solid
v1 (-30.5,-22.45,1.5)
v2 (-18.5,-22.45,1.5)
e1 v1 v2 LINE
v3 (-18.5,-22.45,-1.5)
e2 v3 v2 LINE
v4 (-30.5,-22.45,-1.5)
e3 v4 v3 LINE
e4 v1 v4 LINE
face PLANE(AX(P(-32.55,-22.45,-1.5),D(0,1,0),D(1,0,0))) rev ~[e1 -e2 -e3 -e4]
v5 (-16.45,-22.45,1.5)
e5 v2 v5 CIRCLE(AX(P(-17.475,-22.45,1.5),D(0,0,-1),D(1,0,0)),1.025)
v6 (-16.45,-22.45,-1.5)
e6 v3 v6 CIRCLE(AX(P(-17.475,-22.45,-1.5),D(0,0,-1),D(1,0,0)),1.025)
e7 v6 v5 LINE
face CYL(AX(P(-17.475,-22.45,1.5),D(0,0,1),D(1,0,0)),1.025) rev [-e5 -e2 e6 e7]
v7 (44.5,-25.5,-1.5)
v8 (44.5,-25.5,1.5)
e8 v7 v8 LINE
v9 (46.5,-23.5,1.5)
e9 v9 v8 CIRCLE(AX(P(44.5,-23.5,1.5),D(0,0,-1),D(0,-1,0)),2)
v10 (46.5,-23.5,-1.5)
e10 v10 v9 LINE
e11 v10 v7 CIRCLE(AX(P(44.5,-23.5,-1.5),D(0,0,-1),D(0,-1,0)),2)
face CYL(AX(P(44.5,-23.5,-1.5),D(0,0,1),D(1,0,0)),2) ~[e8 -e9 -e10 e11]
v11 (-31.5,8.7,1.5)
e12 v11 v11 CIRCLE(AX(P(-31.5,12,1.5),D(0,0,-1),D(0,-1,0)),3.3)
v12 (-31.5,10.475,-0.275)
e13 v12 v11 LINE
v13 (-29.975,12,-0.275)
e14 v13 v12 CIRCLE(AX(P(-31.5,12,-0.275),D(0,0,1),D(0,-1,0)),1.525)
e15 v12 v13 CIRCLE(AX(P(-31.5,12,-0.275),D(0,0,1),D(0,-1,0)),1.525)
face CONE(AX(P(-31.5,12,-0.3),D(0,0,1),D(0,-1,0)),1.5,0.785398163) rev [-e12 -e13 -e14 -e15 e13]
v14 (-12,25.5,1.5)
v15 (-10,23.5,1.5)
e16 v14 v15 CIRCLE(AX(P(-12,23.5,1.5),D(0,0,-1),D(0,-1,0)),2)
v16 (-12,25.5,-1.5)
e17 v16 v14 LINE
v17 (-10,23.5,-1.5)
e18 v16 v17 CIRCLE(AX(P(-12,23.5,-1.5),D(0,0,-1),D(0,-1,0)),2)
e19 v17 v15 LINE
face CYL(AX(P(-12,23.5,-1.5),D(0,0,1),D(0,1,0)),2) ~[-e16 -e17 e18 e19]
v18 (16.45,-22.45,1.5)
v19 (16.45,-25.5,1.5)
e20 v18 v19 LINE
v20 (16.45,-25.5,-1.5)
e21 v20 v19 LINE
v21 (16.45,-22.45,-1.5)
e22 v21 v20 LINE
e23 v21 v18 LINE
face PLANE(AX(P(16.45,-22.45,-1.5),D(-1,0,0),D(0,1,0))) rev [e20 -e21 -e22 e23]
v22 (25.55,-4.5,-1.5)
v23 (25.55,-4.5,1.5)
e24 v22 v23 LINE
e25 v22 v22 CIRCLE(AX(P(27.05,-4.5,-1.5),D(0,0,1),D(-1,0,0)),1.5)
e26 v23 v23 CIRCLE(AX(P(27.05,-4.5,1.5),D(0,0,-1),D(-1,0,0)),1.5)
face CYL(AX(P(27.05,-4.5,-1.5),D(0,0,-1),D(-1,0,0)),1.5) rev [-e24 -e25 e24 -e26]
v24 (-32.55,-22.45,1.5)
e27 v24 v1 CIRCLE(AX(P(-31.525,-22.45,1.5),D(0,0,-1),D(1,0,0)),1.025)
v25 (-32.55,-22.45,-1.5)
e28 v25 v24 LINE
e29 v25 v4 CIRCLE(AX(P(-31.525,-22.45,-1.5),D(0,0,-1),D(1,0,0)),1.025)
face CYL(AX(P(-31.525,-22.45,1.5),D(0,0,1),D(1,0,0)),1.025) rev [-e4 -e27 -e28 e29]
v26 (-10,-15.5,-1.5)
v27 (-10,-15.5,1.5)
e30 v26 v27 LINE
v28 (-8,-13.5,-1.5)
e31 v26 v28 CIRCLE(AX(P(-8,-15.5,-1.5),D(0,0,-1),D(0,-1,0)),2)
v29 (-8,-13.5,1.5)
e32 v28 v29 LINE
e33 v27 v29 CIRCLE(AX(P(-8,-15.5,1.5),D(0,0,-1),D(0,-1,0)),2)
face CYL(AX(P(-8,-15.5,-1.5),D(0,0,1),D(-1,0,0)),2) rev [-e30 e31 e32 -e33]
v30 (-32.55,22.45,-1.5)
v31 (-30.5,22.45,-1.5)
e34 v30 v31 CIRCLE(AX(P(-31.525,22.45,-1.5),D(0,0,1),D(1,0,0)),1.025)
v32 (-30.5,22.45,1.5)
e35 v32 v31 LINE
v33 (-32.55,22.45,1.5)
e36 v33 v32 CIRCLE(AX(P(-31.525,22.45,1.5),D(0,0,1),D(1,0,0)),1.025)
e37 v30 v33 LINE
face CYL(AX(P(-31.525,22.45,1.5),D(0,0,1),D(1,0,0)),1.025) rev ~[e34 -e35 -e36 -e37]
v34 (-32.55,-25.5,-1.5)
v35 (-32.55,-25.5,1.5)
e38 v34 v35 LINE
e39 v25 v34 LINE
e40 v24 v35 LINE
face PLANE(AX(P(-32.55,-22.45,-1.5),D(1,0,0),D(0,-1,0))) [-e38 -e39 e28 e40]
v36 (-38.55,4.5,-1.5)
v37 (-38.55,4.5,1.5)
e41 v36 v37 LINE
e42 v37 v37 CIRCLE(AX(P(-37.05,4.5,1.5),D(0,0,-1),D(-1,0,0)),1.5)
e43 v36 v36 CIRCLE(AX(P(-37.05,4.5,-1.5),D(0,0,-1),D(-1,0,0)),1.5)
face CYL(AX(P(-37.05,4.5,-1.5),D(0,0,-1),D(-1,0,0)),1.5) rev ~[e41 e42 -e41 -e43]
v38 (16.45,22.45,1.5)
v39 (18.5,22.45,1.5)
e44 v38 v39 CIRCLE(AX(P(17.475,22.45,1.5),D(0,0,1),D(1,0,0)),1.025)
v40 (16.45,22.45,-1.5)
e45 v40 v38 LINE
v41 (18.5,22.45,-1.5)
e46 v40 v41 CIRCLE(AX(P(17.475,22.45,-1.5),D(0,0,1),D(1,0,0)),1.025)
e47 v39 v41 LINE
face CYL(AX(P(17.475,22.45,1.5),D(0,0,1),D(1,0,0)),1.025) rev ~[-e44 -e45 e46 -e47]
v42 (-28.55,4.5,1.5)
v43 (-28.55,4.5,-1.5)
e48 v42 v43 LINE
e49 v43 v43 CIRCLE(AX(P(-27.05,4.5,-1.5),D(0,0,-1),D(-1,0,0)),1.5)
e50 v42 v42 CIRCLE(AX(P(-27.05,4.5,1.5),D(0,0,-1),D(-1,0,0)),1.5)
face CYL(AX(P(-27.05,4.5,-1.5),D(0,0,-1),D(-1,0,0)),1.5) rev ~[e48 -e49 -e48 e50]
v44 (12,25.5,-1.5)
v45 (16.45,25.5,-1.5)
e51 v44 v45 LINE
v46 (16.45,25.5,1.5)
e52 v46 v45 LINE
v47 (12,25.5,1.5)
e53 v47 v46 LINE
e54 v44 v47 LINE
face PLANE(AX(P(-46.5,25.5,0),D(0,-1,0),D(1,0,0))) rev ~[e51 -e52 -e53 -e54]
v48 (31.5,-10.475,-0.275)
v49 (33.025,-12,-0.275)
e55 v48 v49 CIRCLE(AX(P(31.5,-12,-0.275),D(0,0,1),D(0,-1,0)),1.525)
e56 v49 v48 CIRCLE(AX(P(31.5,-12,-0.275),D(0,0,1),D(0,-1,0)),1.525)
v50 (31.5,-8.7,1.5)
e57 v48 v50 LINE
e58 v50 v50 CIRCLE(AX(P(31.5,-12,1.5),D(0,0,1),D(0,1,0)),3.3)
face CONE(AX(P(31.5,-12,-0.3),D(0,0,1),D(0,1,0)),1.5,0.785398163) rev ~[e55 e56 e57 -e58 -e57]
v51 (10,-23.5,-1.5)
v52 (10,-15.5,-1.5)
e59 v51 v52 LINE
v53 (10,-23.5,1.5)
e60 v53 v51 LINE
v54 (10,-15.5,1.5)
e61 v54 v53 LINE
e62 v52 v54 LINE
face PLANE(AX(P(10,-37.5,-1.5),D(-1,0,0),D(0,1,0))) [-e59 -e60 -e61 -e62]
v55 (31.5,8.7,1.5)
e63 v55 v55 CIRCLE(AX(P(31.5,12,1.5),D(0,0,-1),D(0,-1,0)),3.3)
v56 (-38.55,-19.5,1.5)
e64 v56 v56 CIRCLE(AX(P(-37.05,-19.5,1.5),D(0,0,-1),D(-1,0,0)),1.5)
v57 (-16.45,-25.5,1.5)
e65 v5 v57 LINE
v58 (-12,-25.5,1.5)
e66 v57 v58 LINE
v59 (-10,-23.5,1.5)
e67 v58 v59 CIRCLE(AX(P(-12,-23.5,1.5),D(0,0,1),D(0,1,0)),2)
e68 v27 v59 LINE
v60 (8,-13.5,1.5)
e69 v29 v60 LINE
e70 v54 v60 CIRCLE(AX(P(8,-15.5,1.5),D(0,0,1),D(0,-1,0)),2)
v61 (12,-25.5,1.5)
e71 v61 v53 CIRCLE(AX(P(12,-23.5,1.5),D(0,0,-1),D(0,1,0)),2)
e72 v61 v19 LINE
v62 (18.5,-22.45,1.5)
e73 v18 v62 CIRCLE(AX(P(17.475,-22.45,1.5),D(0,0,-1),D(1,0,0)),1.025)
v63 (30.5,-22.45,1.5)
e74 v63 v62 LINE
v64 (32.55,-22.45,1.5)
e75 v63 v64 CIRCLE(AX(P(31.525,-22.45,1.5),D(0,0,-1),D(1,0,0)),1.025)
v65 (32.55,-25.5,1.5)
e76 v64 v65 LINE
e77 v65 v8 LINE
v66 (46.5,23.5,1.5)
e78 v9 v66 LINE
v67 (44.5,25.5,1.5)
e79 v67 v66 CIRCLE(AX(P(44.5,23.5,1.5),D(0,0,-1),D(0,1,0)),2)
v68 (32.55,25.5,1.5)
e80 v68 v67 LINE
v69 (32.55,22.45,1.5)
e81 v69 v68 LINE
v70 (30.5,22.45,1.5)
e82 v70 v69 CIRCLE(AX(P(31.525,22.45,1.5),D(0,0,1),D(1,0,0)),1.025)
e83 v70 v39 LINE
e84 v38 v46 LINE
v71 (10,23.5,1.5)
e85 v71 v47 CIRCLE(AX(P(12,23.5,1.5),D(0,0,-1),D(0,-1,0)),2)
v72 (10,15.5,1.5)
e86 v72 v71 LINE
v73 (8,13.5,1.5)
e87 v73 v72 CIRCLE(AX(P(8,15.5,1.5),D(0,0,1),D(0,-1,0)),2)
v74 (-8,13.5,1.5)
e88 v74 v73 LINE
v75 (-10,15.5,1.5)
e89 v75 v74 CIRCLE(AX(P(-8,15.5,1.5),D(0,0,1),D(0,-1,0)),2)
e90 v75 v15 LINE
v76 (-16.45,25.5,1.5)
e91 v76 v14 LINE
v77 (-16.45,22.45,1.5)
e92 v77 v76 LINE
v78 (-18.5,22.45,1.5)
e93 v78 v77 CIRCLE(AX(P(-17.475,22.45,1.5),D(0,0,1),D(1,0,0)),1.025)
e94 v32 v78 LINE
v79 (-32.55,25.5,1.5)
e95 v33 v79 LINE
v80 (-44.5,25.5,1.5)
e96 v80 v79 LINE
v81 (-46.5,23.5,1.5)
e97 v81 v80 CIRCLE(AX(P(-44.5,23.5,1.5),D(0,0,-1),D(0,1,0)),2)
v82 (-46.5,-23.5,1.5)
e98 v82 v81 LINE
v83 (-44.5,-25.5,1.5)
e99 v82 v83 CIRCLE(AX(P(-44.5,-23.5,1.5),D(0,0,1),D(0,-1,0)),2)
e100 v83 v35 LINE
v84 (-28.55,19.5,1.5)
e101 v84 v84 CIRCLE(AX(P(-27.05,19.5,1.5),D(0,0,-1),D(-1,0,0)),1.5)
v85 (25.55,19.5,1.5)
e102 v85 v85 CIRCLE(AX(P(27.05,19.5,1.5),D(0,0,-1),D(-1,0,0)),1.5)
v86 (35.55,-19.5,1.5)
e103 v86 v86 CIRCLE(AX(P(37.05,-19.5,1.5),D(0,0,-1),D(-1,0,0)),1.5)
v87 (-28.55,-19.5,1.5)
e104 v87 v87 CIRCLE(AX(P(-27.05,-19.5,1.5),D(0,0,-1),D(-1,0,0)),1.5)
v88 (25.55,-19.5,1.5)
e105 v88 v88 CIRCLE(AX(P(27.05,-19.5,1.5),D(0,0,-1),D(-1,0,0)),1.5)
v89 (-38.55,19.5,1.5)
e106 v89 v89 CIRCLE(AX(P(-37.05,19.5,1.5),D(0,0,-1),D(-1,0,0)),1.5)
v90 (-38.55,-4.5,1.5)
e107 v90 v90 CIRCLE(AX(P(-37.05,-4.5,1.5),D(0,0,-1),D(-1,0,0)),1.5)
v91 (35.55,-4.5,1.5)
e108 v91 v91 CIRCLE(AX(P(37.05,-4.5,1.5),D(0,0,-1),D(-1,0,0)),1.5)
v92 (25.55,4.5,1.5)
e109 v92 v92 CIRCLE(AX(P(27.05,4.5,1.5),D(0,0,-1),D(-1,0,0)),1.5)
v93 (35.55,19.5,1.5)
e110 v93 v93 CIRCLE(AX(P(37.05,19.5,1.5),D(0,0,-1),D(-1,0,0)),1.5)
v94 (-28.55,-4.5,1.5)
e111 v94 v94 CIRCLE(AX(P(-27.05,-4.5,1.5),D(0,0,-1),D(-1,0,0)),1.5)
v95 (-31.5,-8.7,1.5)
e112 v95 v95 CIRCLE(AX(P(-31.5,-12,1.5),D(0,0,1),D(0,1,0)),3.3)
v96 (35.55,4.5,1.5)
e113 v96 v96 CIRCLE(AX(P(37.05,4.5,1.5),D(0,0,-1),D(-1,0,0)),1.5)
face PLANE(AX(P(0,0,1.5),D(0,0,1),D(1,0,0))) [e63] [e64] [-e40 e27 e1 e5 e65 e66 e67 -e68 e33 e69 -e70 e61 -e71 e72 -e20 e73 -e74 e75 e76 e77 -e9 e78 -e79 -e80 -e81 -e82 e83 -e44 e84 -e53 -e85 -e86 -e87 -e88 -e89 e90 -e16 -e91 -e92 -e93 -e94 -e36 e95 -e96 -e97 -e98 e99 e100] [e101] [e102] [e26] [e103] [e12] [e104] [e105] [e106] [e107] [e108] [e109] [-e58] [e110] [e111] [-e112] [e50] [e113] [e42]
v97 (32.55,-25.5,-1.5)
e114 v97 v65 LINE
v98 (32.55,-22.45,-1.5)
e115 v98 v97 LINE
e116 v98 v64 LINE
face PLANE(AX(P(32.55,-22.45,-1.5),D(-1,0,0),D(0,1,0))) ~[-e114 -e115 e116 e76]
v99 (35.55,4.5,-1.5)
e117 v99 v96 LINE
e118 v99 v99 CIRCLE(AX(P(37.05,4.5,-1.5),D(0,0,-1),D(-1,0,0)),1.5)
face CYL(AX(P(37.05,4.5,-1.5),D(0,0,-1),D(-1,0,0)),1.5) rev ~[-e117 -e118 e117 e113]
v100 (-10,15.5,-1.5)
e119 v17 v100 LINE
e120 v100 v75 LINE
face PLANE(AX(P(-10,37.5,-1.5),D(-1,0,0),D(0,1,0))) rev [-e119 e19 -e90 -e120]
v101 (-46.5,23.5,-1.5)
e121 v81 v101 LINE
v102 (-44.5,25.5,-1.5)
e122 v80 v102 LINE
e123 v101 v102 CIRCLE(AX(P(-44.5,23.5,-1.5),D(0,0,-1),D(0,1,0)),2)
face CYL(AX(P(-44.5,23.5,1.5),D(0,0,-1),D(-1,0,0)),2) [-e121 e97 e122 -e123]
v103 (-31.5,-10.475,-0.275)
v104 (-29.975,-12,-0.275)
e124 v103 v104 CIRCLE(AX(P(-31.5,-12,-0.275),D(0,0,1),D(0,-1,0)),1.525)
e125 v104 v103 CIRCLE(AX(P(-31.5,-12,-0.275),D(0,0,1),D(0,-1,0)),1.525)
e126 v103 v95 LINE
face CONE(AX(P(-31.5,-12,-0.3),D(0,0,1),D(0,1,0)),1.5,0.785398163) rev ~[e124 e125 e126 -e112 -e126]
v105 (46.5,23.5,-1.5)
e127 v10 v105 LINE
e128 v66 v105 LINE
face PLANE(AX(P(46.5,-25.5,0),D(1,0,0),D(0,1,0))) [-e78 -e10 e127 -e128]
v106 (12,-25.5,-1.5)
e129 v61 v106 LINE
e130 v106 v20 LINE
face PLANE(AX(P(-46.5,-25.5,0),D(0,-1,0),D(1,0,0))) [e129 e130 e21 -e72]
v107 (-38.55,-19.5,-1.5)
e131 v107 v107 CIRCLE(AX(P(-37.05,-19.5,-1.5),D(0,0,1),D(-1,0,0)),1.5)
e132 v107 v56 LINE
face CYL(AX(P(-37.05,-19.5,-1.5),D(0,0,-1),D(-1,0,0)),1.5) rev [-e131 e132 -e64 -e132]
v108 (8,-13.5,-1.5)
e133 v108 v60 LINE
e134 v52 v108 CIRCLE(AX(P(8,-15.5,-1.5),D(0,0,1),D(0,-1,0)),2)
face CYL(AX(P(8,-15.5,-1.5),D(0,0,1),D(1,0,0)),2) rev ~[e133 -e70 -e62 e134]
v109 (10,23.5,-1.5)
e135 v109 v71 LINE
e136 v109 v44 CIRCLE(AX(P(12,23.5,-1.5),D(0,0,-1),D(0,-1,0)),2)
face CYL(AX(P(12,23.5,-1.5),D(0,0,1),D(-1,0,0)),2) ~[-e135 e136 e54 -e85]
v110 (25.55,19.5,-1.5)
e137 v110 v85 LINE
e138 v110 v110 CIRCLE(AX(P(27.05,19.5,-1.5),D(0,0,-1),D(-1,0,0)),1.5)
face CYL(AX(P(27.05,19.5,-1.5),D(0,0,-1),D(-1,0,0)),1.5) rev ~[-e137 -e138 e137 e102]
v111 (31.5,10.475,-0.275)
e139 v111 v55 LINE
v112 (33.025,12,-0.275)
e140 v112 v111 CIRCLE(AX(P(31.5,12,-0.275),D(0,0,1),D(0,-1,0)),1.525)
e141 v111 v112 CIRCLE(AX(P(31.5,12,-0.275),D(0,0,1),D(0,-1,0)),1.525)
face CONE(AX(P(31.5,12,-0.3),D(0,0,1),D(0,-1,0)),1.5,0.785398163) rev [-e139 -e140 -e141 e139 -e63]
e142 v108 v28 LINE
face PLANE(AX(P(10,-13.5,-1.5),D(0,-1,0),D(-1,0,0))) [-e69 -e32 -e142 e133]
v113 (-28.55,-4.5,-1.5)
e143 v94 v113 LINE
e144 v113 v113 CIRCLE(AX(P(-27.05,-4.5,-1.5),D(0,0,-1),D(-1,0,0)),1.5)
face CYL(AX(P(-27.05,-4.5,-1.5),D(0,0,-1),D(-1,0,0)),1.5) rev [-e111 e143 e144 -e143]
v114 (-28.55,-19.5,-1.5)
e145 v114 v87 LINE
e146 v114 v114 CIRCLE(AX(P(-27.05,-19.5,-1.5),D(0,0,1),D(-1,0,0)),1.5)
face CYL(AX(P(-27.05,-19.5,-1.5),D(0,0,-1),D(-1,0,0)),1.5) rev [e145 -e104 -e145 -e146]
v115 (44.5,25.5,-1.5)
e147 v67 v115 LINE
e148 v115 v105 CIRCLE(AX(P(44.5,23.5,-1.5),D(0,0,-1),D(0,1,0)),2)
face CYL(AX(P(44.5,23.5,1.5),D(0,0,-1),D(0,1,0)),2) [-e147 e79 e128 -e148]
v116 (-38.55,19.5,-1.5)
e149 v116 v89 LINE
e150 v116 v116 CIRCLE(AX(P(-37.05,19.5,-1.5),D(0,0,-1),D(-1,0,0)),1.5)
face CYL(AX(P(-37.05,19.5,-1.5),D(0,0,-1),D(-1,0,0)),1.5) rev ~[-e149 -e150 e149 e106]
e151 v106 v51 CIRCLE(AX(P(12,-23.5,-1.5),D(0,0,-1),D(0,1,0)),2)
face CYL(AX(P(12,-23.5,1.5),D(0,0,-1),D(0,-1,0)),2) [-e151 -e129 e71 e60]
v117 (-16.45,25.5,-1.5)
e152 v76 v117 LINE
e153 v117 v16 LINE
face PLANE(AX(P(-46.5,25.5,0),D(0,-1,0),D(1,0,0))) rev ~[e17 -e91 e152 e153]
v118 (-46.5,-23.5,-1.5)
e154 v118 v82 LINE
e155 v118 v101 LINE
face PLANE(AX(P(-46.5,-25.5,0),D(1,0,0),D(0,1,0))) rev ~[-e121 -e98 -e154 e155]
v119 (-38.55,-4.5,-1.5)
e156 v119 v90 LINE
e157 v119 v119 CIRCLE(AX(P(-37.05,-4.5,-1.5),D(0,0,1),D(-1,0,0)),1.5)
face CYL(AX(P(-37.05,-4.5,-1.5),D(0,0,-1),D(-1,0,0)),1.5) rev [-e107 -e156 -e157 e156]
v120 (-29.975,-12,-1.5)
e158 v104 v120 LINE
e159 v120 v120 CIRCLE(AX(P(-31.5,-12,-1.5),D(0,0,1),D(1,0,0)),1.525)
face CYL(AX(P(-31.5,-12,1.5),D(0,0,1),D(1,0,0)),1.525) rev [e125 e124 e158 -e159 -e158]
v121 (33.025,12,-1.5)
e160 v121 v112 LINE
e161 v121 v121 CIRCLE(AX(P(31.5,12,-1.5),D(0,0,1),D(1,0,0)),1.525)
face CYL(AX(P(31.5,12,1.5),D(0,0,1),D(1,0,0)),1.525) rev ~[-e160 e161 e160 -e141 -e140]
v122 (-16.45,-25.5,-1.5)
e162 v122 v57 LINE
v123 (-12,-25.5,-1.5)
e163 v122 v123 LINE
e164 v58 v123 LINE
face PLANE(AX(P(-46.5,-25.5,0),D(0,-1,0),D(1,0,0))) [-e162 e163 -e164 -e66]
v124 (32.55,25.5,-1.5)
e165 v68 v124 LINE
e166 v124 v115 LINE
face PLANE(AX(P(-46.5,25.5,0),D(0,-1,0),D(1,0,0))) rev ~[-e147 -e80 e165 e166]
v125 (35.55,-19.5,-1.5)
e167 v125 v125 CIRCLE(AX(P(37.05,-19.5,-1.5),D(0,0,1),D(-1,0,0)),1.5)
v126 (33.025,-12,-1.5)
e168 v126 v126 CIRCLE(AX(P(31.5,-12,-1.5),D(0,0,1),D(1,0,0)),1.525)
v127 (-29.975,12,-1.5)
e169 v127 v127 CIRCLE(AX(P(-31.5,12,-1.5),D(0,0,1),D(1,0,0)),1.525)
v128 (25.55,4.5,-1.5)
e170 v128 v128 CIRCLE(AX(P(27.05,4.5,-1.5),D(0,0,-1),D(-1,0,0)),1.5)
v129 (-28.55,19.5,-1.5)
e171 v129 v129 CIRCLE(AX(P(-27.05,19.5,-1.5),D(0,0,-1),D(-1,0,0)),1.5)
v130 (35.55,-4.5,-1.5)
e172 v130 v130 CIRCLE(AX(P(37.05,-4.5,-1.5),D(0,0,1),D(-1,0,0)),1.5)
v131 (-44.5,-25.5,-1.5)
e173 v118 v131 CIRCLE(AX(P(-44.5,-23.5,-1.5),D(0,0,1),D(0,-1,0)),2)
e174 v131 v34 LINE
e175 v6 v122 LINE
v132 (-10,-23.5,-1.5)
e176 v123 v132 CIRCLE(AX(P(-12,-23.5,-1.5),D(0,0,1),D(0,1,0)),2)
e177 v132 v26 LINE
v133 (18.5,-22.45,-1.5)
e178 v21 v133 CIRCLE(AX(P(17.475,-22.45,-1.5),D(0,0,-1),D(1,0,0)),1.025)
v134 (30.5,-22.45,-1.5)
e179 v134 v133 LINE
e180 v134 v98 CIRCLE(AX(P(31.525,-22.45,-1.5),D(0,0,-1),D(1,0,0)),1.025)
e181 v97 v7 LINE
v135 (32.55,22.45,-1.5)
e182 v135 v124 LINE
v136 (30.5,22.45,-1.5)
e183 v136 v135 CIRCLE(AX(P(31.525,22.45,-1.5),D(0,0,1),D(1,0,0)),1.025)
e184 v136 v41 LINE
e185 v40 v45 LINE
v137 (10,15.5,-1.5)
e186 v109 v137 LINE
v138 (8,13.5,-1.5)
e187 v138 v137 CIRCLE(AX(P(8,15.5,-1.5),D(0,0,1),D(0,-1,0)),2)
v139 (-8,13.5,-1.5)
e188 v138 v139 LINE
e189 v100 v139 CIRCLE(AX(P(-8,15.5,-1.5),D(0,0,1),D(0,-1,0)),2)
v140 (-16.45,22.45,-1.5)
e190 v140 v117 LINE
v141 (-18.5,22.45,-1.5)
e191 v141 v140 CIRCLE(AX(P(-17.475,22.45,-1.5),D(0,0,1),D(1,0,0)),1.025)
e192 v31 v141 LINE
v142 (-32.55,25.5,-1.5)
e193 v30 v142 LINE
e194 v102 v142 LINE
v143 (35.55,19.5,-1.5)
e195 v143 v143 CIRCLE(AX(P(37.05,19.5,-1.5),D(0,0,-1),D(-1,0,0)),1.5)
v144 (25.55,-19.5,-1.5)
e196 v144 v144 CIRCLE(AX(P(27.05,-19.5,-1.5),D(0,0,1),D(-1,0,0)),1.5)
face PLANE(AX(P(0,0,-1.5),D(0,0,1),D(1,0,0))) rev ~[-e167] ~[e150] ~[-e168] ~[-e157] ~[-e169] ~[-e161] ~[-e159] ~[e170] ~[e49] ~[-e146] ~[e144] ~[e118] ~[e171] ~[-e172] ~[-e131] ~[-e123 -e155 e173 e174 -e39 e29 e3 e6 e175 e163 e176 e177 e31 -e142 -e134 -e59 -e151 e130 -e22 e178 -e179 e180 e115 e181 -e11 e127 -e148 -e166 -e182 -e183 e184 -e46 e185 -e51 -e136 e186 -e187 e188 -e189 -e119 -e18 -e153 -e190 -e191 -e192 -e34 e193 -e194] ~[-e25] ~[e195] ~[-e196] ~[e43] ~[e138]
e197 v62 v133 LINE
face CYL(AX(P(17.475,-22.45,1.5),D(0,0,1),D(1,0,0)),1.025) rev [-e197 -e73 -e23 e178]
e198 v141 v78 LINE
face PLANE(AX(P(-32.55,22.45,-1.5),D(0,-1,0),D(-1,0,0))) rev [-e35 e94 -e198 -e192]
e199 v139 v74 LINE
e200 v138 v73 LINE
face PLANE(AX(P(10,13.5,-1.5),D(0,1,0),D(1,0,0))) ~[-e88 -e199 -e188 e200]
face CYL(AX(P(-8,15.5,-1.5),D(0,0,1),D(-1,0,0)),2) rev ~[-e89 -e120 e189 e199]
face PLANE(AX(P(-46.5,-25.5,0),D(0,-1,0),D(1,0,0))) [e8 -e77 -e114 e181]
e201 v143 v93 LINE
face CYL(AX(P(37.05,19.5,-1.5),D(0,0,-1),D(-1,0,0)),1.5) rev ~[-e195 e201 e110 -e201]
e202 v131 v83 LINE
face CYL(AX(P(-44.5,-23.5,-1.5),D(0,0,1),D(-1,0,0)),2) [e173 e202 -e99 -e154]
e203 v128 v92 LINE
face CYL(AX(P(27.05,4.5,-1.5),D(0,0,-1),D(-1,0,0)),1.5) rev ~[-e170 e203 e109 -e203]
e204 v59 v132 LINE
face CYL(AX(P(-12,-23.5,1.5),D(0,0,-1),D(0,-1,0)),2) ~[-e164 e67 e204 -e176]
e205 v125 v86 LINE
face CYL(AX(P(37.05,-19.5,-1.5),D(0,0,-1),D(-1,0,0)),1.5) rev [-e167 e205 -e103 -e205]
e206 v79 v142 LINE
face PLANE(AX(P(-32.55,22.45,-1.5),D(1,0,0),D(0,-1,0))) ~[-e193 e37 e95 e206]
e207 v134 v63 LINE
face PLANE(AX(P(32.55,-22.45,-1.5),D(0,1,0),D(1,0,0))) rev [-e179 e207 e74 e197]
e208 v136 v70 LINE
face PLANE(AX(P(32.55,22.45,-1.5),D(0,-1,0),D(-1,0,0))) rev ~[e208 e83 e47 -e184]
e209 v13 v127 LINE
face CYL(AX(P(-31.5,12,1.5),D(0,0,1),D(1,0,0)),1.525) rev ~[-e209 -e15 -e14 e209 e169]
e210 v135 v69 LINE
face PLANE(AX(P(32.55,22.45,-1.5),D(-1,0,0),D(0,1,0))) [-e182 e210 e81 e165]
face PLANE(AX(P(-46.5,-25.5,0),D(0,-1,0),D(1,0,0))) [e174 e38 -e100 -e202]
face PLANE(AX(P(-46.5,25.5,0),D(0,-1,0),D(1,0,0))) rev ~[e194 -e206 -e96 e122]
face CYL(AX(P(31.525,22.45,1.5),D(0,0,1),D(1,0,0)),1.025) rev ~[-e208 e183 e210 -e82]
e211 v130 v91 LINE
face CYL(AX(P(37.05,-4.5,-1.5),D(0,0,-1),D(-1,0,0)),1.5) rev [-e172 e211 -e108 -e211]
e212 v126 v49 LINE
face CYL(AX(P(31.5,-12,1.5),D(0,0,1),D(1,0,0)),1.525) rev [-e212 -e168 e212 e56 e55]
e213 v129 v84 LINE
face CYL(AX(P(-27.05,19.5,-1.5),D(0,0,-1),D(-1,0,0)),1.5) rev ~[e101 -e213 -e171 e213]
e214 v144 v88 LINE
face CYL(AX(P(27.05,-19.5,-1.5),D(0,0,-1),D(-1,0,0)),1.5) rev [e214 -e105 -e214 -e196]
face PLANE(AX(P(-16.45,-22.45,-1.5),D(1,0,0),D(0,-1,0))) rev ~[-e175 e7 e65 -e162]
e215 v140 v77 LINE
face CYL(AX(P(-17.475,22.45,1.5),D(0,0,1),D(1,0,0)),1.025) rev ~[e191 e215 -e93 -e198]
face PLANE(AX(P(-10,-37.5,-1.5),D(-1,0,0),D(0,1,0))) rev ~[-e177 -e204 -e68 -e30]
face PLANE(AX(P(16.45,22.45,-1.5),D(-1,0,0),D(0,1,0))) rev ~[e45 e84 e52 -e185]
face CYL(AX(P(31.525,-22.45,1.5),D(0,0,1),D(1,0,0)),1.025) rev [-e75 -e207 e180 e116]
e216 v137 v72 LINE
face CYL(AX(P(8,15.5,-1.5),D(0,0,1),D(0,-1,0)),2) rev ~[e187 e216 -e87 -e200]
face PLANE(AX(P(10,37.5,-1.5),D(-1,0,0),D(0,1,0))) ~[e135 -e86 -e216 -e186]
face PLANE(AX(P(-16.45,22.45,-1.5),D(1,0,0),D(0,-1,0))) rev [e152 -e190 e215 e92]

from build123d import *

# Parameters (mm, degrees)
SKETCH_1_W                  = 93
SKETCH_1_H                  = 51
EXTRUDE_1_DEPTH             = 1.5
SKETCH_2_R                  = 1.525
CUT_EXTRUDE_1_DEPTH         = 5
HOLE_WIZARD_M3_1_AT_2_COUNT = 2
HOLE_WIZARD_M3_1_AT_2_PITCH = 63
SKETCH_5_R                  = 1.5
CUT_EXTRUDE_2_DEPTH         = 5
SKETCH_7_W                  = 20
SKETCH_7_H                  = 24
CUT_EXTRUDE_3_DEPTH         = 10
FILLET_1_R                  = 2
SKETCH_8_W                  = 16.1
SKETCH_8_H                  = 3.1
CUT_EXTRUDE_4_DEPTH         = 3
MIRROR_5_COPY_1_SKETCH_W    = 16.1
MIRROR_5_COPY_1_SKETCH_H    = 3.1
MIRROR_5_COPY_1_DEPTH       = 3
SKETCH_9_R                  = 1.025
CUT_EXTRUDE_5_DEPTH         = 3


with BuildPart() as part:
    # 草图1 → 凸台-拉伸1 (new body, symmetric)
    with BuildSketch(Plane.XY):
        Rectangle(SKETCH_1_W, SKETCH_1_H)
    extrude(amount=EXTRUDE_1_DEPTH, both=True)

    # 草图2 → 切除-拉伸1 (cut, symmetric)
    with BuildSketch(Plane.XY.offset(1.5)):
        with Locations((-31.5, 12)):
            Circle(SKETCH_2_R)
        with Locations((31.5, 12)):
            Circle(SKETCH_2_R)
    cut_extrude_1 = extrude(amount=CUT_EXTRUDE_1_DEPTH, both=True, mode=Mode.SUBTRACT)

    # 草图4 → M3 十字槽半沉头木螺钉的锥形沉头孔1 (revolve, cut)
    with BuildSketch(Plane(origin=(-31.5, 12, 1.5), x_dir=(0, -1, 0), z_dir=(1, 0, 0))):
        Polygon((0, 0), (0, 12.401290929), (1.5, 11.5), (1.5, 1.8), (3.3, 0), align=None)
    hole_wizard_m3_1 = revolve(axis=Axis((-31.5, 12, 7.85), (0, 0, -1)), mode=Mode.SUBTRACT)

    # M3 十字槽半沉头木螺钉的锥形沉头孔1 at 2: M3 十字槽半沉头木螺钉的锥形沉头孔1 ×2
    with Locations(*[(i * HOLE_WIZARD_M3_1_AT_2_PITCH, 0, 0) for i in range(1, HOLE_WIZARD_M3_1_AT_2_COUNT)]):
        add(hole_wizard_m3_1, mode=Mode.SUBTRACT)

    # 草图5 → 切除-拉伸2 (cut, symmetric)
    with BuildSketch(Plane(origin=(0, 0, -1.5), x_dir=(-1, 0, 0), z_dir=(0, 0, -1))):
        with Locations((-27.05, 4.5)):
            Circle(SKETCH_5_R)
        with Locations((-37.05, 4.5)):
            Circle(SKETCH_5_R)
        with Locations((-37.05, 19.5)):
            Circle(SKETCH_5_R)
        with Locations((-27.05, 19.5)):
            Circle(SKETCH_5_R)
        with Locations((27.05, 19.5)):
            Circle(SKETCH_5_R)
        with Locations((37.05, 19.5)):
            Circle(SKETCH_5_R)
        with Locations((37.05, 4.5)):
            Circle(SKETCH_5_R)
        with Locations((27.05, 4.5)):
            Circle(SKETCH_5_R)
    cut_extrude_2 = extrude(amount=CUT_EXTRUDE_2_DEPTH, both=True, mode=Mode.SUBTRACT)

    # 镜向1: 切除-拉伸2 across plane
    add(cut_extrude_2.mirror(Plane.ZX), mode=Mode.SUBTRACT)

    # 镜向2: M3 十字槽半沉头木螺钉的锥形沉头孔1, 切除-拉伸1 across plane
    add(hole_wizard_m3_1.mirror(Plane.ZX), mode=Mode.SUBTRACT)
    add(cut_extrude_1.mirror(Plane.ZX), mode=Mode.SUBTRACT)

    # 镜向2 copy 1 sketch → 镜向2 copy 1 (revolve, cut)
    with BuildSketch(Plane(origin=(31.5, -12, 1.5), x_dir=(0, 1, 0), z_dir=(1, 0, 0))):
        Polygon((0, 0), (0, -12.401290929), (1.5, -11.5), (1.5, -1.8), (3.3, 0), align=None)
    revolve(axis=Axis((31.5, -12, 7.85), (0, 0, 1)), mode=Mode.SUBTRACT)

    # 草图7 → 切除-拉伸3 (cut)
    with BuildSketch(Plane(origin=(0, 0, -1.5), x_dir=(-1, 0, 0), z_dir=(0, 0, -1))):
        with Locations((0, -25.5)):
            Rectangle(SKETCH_7_W, SKETCH_7_H)
    cut_extrude_3 = extrude(amount=-CUT_EXTRUDE_3_DEPTH, mode=Mode.SUBTRACT)

    # 镜向3: 切除-拉伸3 across plane
    add(cut_extrude_3.mirror(Plane.ZX), mode=Mode.SUBTRACT)

    # 圆角1
    fillet_1_edges = [part.edges().sort_by_distance(p)[0] for p in [
        (-10, -25.5, 0),
        (-10, -13.5, 0),
        (10, -25.5, 0),
        (10, -13.5, 0),
        (-10, 13.5, 0),
        (10, 13.5, 0),
        (-10, 25.5, 0),
        (10, 25.5, 0),
        (46.5, -25.5, 0),
        (-46.5, -25.5, 0),
        (-46.5, 25.5, 0),
        (46.5, 25.5, 0),
    ]]
    fillet(fillet_1_edges, radius=FILLET_1_R)

    # 草图8 → 切除-拉伸4 (cut)
    with BuildSketch(Plane(origin=(0, 0, -1.5), x_dir=(-1, 0, 0), z_dir=(0, 0, -1))):
        with Locations((-24.5, 24)):
            Rectangle(SKETCH_8_W, SKETCH_8_H)
    cut_extrude_4 = extrude(amount=-CUT_EXTRUDE_4_DEPTH, mode=Mode.SUBTRACT)

    # 镜向4: 切除-拉伸4 across plane
    add(cut_extrude_4.mirror(Plane(origin=(0, 0, 0), x_dir=(0, 0, 1), z_dir=(1, 0, 0))), mode=Mode.SUBTRACT)

    # 镜向5: 切除-拉伸4 across plane
    add(cut_extrude_4.mirror(Plane.ZX), mode=Mode.SUBTRACT)

    # 镜向5 copy 1 sketch → 镜向5 copy 1 (cut)
    with BuildSketch(Plane(origin=(0, 0, -1.5), x_dir=(1, 0, 0), z_dir=(0, 0, -1))):
        with Locations((-24.5, 24)):
            Rectangle(MIRROR_5_COPY_1_SKETCH_W, MIRROR_5_COPY_1_SKETCH_H)
    extrude(amount=-MIRROR_5_COPY_1_DEPTH, mode=Mode.SUBTRACT)

    # 草图9 → 切除-拉伸5 (cut)
    with BuildSketch(Plane.XY.offset(1.5)):
        with Locations((-31.525, 22.45)):
            Circle(SKETCH_9_R)
        with Locations((-17.475, 22.45)):
            Circle(SKETCH_9_R)
        with Locations((17.475, 22.45)):
            Circle(SKETCH_9_R)
        with Locations((31.525, 22.45)):
            Circle(SKETCH_9_R)
    cut_extrude_5 = extrude(amount=-CUT_EXTRUDE_5_DEPTH, mode=Mode.SUBTRACT)

    # 镜向6: 切除-拉伸5 across plane
    add(cut_extrude_5.mirror(Plane.ZX), mode=Mode.SUBTRACT)


solid = part.part
